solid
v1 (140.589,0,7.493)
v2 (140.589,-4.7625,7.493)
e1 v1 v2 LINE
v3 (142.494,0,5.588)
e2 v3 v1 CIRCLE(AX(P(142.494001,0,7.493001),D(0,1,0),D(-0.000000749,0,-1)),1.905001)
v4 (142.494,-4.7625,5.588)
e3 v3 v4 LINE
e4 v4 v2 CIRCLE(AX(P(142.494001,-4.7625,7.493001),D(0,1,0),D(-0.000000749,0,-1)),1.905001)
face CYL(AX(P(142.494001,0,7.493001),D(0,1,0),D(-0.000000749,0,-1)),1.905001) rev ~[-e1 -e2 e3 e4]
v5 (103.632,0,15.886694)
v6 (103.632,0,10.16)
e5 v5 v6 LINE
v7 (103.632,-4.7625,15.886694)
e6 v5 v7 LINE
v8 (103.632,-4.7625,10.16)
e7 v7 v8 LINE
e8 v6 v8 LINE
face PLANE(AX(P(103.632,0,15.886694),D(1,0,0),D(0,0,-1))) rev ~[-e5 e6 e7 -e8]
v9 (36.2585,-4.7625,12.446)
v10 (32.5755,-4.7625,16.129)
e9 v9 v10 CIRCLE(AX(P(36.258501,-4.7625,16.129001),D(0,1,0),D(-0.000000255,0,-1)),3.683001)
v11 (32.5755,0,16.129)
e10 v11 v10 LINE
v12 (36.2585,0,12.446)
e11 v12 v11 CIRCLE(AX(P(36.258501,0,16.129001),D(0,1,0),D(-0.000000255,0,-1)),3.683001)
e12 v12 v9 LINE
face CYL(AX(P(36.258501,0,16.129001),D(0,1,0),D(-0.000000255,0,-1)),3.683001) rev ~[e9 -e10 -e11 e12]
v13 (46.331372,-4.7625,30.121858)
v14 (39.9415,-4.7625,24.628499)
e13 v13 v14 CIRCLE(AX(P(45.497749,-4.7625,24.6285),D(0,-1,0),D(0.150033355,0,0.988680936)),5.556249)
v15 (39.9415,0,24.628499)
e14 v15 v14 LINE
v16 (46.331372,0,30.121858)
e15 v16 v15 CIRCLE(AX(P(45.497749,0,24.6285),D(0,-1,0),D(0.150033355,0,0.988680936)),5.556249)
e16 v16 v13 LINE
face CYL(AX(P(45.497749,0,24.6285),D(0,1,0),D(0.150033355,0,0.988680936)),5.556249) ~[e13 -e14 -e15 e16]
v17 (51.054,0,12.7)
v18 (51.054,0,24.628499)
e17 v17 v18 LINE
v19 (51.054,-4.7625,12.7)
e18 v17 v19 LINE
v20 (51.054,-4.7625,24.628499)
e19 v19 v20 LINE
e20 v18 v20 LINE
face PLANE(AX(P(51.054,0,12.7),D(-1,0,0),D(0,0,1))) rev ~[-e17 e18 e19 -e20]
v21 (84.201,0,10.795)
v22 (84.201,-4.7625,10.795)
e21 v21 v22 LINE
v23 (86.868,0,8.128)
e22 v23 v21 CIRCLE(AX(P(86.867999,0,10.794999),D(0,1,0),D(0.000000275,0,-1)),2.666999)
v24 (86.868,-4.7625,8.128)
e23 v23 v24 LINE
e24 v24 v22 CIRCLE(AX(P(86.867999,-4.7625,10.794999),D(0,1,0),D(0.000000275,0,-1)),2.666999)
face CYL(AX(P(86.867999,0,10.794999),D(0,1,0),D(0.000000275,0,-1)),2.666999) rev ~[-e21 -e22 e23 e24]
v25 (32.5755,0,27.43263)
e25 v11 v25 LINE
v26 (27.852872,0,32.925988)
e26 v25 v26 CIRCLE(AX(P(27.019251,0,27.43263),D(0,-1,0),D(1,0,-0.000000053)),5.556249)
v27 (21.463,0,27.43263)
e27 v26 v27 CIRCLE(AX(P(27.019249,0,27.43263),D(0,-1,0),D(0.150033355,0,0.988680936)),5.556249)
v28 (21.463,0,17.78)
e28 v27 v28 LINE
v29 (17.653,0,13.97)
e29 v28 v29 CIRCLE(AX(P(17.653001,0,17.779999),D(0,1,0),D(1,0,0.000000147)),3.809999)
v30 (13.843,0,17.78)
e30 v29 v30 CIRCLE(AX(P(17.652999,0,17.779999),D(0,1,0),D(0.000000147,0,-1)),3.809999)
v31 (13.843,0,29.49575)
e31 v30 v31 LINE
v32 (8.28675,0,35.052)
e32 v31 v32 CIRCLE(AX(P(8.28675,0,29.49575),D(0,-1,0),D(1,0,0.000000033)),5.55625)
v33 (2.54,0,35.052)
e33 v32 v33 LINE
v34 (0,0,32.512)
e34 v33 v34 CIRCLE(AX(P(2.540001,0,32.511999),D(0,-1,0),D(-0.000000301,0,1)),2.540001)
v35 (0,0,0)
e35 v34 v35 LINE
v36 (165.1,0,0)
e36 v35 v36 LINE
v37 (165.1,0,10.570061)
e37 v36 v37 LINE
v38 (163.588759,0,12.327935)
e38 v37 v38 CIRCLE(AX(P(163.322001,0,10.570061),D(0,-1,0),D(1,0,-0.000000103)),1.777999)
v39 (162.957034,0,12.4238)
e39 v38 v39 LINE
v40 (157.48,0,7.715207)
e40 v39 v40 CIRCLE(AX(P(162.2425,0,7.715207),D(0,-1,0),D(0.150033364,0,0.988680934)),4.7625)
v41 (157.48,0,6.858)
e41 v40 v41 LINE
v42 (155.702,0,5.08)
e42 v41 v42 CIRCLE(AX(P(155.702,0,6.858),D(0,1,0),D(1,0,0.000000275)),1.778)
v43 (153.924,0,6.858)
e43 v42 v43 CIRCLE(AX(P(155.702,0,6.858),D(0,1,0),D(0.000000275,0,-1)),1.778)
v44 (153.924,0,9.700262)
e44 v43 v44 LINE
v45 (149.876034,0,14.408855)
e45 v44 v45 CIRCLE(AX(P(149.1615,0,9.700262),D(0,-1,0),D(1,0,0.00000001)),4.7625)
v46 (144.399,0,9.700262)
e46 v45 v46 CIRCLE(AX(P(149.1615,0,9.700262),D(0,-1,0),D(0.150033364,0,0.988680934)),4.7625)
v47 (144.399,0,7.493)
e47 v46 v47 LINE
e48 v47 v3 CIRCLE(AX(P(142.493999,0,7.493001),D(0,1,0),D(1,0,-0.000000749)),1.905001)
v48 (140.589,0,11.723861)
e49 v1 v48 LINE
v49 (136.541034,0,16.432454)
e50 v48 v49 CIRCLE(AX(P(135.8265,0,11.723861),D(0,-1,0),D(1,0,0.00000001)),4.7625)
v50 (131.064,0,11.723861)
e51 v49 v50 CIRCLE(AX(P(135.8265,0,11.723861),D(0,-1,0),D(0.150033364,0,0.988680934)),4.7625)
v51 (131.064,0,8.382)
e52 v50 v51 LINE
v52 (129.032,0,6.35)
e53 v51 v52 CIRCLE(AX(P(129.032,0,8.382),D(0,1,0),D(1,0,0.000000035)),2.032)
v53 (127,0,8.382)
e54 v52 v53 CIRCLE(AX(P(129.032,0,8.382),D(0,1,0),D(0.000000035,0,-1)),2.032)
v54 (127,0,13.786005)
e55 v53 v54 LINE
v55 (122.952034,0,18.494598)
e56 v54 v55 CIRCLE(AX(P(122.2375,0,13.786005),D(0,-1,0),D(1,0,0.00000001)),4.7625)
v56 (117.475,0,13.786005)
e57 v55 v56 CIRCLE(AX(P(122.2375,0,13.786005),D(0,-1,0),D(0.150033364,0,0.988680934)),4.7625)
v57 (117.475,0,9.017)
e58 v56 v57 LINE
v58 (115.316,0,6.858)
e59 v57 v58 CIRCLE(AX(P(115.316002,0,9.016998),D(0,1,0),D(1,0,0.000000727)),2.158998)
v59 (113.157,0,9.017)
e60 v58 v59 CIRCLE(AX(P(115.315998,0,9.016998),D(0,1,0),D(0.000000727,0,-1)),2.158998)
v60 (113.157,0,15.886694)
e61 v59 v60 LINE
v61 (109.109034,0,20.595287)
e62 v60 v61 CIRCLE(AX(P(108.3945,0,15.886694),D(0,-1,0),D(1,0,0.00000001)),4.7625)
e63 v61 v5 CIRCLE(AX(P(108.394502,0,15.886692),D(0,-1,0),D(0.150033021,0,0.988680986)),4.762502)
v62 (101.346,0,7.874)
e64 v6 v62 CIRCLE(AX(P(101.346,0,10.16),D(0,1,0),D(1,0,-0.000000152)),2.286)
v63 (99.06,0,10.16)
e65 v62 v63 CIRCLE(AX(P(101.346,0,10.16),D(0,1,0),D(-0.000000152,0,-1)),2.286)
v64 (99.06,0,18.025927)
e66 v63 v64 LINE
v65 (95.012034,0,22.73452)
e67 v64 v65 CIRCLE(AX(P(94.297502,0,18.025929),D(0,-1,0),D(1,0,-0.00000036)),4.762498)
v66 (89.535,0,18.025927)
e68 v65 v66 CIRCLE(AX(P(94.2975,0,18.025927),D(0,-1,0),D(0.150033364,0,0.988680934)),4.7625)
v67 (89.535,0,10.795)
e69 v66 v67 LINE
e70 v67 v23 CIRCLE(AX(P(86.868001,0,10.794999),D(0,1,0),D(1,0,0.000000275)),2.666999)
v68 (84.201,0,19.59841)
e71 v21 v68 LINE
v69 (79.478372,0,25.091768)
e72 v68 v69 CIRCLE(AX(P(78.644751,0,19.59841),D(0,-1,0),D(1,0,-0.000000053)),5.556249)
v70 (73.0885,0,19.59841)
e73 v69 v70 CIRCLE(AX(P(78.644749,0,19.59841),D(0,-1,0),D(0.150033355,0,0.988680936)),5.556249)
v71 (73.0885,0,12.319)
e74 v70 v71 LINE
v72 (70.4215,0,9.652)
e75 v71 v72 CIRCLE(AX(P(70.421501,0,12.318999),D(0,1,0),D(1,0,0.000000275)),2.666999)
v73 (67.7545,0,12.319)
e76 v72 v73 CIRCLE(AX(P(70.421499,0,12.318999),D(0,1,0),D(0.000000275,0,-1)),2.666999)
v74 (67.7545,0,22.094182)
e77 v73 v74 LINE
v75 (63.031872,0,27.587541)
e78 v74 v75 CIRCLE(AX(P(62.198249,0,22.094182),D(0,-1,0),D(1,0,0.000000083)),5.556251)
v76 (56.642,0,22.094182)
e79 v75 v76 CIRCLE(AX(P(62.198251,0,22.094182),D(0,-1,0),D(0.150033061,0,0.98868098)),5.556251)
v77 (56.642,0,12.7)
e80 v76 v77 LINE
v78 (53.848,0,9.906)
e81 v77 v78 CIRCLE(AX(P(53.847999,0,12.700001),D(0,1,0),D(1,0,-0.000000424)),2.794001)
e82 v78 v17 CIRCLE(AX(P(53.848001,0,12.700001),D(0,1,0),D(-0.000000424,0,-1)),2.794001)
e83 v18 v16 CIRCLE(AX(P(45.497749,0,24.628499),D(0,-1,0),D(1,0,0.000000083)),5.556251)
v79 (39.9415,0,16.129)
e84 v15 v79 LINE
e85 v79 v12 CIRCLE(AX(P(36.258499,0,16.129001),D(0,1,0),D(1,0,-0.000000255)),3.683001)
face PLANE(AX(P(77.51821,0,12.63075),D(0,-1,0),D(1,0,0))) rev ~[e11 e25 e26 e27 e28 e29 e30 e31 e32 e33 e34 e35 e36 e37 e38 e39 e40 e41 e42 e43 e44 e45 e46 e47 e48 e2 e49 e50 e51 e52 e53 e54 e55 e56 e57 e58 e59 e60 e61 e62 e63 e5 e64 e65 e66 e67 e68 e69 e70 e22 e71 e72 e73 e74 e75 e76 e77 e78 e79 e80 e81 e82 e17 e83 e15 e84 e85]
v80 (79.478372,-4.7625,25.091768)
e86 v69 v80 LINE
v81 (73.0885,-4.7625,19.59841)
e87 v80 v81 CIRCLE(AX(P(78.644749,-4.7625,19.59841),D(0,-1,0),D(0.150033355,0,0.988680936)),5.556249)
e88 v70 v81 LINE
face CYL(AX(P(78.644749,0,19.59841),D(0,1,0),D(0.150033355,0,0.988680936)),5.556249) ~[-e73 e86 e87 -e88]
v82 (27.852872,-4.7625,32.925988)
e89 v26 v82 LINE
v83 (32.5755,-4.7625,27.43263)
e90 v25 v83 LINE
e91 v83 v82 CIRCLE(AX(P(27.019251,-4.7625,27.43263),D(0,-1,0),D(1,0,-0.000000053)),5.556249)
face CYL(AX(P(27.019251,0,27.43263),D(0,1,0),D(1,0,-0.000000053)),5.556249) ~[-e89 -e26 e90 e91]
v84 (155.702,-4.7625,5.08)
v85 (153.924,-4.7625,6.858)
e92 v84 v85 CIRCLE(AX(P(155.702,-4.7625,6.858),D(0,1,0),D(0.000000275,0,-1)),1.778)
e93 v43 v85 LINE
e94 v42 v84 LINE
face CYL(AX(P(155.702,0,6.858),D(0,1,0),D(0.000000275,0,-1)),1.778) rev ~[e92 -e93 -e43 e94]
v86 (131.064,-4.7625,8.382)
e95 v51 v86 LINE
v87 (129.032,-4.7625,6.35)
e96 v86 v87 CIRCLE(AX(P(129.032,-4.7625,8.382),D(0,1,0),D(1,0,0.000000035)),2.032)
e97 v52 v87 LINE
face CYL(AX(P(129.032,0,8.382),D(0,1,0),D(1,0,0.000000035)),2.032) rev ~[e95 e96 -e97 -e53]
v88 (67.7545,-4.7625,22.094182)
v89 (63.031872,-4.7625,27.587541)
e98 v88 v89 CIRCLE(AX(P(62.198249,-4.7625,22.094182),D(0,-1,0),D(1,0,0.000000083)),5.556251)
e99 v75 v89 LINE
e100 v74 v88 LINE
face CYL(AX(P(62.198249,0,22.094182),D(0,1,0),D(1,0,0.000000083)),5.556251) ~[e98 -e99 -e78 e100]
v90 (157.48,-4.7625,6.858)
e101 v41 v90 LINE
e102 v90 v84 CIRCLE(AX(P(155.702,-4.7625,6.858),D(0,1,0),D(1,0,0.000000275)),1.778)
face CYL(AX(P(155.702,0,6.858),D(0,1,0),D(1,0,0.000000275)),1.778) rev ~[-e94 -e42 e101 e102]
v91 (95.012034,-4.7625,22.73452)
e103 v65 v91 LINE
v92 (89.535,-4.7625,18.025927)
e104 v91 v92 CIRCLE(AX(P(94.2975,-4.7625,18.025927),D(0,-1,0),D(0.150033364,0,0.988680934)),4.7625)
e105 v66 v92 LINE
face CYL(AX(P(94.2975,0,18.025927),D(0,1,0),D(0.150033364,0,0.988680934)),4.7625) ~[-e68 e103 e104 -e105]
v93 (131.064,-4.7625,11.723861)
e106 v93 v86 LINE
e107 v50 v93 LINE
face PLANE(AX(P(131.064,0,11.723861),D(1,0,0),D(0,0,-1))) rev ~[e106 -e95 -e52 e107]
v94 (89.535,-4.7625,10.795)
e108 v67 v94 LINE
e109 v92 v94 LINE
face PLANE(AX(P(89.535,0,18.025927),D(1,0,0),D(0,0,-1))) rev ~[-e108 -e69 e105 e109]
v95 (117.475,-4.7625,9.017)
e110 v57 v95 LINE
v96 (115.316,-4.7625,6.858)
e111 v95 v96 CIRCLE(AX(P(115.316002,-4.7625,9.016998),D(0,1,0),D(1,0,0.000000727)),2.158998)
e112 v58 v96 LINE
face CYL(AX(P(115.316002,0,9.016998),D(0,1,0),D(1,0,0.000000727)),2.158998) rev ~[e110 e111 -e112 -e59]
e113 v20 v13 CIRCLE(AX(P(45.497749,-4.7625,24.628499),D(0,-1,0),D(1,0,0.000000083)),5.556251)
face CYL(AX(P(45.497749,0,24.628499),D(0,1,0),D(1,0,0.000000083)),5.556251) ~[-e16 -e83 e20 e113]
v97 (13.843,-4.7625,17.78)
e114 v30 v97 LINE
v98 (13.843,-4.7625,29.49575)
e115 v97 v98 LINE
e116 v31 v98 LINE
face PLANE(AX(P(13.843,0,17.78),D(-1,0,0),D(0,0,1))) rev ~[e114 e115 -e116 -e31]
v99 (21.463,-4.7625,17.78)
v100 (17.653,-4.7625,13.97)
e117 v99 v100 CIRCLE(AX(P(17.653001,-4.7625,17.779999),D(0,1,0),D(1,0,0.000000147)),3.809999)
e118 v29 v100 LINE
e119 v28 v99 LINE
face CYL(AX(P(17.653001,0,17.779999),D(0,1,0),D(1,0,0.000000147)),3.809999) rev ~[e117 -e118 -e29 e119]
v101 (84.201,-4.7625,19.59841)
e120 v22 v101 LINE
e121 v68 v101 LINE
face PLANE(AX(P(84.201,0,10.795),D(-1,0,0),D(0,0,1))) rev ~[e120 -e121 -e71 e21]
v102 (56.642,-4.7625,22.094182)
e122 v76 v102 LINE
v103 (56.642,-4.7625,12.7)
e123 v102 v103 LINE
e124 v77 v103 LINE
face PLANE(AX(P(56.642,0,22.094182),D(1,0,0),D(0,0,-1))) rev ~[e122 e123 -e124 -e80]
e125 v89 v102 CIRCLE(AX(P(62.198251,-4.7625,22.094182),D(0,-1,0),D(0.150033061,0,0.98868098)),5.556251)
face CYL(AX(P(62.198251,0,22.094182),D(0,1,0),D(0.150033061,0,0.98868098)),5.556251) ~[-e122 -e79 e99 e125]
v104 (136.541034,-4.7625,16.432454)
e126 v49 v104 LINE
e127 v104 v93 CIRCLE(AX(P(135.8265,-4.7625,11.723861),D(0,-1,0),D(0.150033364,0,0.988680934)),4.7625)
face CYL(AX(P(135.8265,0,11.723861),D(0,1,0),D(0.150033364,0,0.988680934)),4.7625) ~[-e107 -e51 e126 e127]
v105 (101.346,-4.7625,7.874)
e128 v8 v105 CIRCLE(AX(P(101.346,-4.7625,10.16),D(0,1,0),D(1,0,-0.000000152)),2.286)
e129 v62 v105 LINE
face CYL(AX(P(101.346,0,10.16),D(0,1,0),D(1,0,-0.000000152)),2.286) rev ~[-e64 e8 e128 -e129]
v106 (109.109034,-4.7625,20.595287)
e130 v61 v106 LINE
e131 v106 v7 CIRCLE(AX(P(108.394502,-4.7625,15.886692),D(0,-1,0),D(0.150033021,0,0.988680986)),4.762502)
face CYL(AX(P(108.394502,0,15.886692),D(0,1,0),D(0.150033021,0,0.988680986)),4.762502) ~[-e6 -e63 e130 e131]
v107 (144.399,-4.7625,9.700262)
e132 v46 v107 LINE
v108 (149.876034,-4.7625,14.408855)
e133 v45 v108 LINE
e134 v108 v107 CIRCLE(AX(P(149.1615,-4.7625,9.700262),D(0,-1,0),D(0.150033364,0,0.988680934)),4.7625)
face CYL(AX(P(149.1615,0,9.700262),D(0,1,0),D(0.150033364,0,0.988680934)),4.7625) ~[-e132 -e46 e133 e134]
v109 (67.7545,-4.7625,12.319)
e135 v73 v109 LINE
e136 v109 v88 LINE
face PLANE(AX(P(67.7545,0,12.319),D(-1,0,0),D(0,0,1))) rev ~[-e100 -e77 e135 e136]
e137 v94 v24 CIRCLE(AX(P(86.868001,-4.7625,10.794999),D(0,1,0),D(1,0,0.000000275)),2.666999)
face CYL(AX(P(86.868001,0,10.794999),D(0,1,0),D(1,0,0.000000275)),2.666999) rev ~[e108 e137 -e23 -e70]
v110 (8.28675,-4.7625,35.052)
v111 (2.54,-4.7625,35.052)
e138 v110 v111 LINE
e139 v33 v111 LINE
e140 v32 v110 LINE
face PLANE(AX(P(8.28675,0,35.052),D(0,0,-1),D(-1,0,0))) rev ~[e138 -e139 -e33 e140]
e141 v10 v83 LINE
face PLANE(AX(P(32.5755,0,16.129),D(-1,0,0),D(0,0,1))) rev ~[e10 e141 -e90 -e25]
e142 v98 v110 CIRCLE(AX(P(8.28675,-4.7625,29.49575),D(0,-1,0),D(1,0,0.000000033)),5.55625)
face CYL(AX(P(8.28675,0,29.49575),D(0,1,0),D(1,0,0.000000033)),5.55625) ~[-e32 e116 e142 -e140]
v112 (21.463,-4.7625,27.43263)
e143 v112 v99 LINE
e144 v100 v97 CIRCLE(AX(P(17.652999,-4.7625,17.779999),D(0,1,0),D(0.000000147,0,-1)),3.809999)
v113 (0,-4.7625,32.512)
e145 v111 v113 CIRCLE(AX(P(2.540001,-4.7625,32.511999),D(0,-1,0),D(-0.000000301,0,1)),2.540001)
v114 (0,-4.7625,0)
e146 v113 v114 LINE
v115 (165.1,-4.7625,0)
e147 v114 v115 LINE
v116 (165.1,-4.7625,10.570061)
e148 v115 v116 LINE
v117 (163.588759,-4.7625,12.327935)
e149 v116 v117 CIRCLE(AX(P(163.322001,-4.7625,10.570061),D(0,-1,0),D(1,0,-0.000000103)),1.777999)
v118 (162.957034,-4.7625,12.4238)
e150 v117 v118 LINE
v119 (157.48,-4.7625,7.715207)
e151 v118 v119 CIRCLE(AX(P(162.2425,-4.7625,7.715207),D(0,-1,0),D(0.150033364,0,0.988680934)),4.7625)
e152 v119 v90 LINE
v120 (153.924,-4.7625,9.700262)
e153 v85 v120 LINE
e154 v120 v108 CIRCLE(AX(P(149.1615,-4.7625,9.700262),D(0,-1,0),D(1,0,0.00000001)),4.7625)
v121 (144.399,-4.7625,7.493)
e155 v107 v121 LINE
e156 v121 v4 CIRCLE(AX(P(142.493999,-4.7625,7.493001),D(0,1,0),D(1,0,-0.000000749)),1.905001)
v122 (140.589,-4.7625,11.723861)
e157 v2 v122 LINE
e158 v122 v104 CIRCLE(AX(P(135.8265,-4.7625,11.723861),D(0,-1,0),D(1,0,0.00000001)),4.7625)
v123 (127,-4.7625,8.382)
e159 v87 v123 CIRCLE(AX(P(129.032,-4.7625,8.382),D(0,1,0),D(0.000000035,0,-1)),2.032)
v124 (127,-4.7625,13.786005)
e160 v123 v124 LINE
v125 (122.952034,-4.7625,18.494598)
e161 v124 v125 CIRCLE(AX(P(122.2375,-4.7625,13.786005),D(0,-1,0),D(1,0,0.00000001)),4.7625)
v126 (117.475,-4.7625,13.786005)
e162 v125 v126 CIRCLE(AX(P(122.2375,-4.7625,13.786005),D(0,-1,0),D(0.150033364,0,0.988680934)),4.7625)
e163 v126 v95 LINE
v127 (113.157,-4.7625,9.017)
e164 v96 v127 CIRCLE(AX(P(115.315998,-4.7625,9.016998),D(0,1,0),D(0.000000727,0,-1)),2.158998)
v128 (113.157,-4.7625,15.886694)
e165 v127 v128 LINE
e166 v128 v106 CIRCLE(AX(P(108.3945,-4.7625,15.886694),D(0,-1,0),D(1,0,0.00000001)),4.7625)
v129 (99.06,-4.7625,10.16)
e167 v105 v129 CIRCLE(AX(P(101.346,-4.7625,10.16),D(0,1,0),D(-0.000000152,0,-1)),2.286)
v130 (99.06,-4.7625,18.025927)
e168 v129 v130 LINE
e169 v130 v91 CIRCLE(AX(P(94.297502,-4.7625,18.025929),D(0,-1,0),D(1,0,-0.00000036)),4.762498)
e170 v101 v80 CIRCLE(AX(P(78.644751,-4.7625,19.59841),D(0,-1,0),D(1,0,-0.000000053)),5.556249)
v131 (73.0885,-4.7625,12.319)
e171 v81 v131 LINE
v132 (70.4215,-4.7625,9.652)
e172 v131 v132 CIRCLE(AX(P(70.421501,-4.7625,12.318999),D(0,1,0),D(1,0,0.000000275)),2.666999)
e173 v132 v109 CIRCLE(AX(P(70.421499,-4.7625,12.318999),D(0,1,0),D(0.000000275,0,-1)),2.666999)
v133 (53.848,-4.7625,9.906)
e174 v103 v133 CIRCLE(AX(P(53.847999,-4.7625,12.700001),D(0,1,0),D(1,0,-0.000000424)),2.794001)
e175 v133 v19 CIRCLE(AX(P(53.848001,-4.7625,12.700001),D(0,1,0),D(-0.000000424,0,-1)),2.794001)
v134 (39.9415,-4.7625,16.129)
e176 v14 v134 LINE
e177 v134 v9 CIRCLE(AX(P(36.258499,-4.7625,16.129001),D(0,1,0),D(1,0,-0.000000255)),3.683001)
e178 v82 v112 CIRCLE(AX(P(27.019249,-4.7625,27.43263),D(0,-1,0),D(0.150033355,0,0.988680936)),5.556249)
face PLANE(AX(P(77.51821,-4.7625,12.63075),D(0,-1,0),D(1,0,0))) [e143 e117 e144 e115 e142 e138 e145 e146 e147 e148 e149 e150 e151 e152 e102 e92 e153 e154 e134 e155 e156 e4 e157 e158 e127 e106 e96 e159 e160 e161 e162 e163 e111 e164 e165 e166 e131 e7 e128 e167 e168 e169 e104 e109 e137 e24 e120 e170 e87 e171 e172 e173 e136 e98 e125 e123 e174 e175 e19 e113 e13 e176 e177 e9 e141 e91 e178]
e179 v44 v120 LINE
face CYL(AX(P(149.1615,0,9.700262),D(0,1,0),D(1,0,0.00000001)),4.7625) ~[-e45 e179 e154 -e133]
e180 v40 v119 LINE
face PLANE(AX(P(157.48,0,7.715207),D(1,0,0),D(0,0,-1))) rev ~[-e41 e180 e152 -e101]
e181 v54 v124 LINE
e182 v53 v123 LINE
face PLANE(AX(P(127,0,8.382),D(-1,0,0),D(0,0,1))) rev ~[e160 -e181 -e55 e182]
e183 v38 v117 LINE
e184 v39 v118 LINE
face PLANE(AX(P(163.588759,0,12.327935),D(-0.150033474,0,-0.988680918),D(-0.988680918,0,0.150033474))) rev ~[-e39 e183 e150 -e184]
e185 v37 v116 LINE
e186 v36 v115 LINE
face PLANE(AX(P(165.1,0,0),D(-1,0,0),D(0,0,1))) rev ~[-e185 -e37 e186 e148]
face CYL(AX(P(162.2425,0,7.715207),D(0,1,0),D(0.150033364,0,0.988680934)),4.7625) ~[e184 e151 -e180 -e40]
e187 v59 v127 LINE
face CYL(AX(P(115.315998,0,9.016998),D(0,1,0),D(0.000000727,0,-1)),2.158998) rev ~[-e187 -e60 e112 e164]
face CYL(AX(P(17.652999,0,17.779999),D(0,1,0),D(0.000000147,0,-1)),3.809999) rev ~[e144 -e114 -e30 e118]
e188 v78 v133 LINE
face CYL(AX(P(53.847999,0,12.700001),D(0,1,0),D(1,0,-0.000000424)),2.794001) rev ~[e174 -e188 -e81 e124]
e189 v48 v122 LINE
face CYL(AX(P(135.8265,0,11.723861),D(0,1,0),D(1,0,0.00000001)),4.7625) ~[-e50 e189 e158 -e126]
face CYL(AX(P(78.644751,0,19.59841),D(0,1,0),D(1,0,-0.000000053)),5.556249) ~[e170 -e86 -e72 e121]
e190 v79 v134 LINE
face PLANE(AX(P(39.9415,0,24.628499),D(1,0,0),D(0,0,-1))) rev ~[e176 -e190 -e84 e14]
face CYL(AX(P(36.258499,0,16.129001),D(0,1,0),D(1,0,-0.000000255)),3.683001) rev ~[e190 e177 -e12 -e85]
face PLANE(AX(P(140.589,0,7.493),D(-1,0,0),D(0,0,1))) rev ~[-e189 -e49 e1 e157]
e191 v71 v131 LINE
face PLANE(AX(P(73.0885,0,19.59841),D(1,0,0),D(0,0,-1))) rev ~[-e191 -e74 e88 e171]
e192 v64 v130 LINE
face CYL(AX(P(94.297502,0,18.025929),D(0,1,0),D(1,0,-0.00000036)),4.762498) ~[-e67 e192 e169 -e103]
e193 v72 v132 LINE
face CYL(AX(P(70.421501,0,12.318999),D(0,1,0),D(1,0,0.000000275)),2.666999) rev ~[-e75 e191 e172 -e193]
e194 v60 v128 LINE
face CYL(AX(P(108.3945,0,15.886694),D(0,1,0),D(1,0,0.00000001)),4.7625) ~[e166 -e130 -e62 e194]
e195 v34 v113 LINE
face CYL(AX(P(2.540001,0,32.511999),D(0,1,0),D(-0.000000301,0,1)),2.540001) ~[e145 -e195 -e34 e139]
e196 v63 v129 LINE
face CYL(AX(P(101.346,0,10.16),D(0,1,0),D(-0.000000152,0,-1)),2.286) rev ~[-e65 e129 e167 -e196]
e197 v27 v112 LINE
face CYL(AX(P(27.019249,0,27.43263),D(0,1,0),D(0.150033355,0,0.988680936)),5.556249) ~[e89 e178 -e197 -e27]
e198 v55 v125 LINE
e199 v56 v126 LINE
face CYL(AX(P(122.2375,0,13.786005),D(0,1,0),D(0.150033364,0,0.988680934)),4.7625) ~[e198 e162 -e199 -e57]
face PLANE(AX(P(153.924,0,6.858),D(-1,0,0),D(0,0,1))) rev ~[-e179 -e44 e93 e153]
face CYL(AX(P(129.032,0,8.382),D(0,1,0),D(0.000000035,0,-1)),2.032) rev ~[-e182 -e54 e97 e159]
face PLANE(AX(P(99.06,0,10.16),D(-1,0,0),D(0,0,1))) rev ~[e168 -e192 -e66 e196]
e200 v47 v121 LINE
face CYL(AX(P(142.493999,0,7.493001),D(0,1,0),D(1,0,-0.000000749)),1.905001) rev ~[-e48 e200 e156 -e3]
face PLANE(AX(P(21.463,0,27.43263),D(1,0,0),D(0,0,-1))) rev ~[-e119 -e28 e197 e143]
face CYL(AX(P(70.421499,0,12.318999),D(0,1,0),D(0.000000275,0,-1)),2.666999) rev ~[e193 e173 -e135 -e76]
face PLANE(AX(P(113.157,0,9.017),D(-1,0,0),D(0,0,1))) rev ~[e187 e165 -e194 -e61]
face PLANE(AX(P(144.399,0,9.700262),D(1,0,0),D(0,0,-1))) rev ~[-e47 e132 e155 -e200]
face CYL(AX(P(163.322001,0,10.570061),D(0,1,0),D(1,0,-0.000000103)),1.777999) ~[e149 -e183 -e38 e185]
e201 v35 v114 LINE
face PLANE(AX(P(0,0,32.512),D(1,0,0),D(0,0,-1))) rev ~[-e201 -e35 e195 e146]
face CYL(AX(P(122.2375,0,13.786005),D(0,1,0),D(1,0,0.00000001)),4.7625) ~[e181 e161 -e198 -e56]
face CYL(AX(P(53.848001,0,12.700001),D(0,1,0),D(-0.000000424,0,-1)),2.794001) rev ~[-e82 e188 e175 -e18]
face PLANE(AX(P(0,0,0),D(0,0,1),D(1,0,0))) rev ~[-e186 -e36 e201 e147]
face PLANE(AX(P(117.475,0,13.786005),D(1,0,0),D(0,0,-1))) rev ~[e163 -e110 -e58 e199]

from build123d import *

# Parameters (mm, degrees)
F1_DEPTH = 4.7625


with BuildPart() as f1:
    # F0 (on Front) → F1 (new body)
    with BuildSketch(Plane.XZ):
        with BuildLine():
            Line((0, 32.512), (0, 0))
            Line((0, 0), (165.1, 0))
            Line((165.1, 0), (165.1, 10.570061))
            ThreePointArc((165.1, 10.570061), (164.670255, 11.729152), (163.588759, 12.327935))
            Line((163.588759, 12.327935), (162.957034, 12.4238))
            ThreePointArc((162.957034, 12.4238), (159.137791, 11.326604), (157.48, 7.715207))
            Line((157.48, 7.715207), (157.48, 6.858))
            ThreePointArc((157.48, 6.858), (156.959236, 5.600764), (155.702, 5.08))
            ThreePointArc((155.702, 5.08), (154.444764, 5.600764), (153.924, 6.858))
            Line((153.924, 6.858), (153.924, 9.700262))
            ThreePointArc((153.924, 9.700262), (152.772897, 12.804971), (149.876034, 14.408855))
            ThreePointArc((149.876034, 14.408855), (146.056791, 13.311659), (144.399, 9.700262))
            Line((144.399, 9.700262), (144.399, 7.493))
            ThreePointArc((144.399, 7.493), (143.841038, 6.145962), (142.494, 5.588))
            ThreePointArc((142.494, 5.588), (141.146962, 6.145962), (140.589, 7.493))
            Line((140.589, 7.493), (140.589, 11.723861))
            ThreePointArc((140.589, 11.723861), (139.437897, 14.82857), (136.541034, 16.432454))
            ThreePointArc((136.541034, 16.432454), (132.721791, 15.335258), (131.064, 11.723861))
            Line((131.064, 11.723861), (131.064, 8.382))
            ThreePointArc((131.064, 8.382), (130.468841, 6.945159), (129.032, 6.35))
            ThreePointArc((129.032, 6.35), (127.595159, 6.945159), (127, 8.382))
            Line((127, 8.382), (127, 13.786005))
            ThreePointArc((127, 13.786005), (125.848897, 16.890714), (122.952034, 18.494598))
            ThreePointArc((122.952034, 18.494598), (119.132791, 17.397402), (117.475, 13.786005))
            Line((117.475, 13.786005), (117.475, 9.017))
            ThreePointArc((117.475, 9.017), (116.842644, 7.490356), (115.316, 6.858))
            ThreePointArc((115.316, 6.858), (113.789356, 7.490356), (113.157, 9.017))
            Line((113.157, 9.017), (113.157, 15.886694))
            ThreePointArc((113.157, 15.886694), (112.005897, 18.991403), (109.109034, 20.595287))
            ThreePointArc((109.109034, 20.595287), (105.289791, 19.49809), (103.632, 15.886694))
            Line((103.632, 15.886694), (103.632, 10.16))
            ThreePointArc((103.632, 10.16), (102.962446, 8.543554), (101.346, 7.874))
            ThreePointArc((101.346, 7.874), (99.729554, 8.543554), (99.06, 10.16))
            Line((99.06, 10.16), (99.06, 18.025927))
            ThreePointArc((99.06, 18.025927), (97.908897, 21.130637), (95.012034, 22.73452))
            ThreePointArc((95.012034, 22.73452), (91.192791, 21.637324), (89.535, 18.025927))
            Line((89.535, 18.025927), (89.535, 10.795))
            ThreePointArc((89.535, 10.795), (88.753854, 8.909146), (86.868, 8.128))
            ThreePointArc((86.868, 8.128), (84.982146, 8.909146), (84.201, 10.795))
            Line((84.201, 10.795), (84.201, 19.59841))
            ThreePointArc((84.201, 19.59841), (82.858046, 23.220571), (79.478372, 25.091768))
            ThreePointArc((79.478372, 25.091768), (75.022589, 23.811706), (73.0885, 19.59841))
            Line((73.0885, 19.59841), (73.0885, 12.319))
            ThreePointArc((73.0885, 12.319), (72.307354, 10.433146), (70.4215, 9.652))
            ThreePointArc((70.4215, 9.652), (68.535646, 10.433146), (67.7545, 12.319))
            Line((67.7545, 12.319), (67.7545, 22.094182))
            ThreePointArc((67.7545, 22.094182), (66.411546, 25.716343), (63.031872, 27.587541))
            ThreePointArc((63.031872, 27.587541), (58.576089, 26.307478), (56.642, 22.094182))
            Line((56.642, 22.094182), (56.642, 12.7))
            ThreePointArc((56.642, 12.7), (55.823656, 10.724344), (53.848, 9.906))
            ThreePointArc((53.848, 9.906), (51.872344, 10.724344), (51.054, 12.7))
            Line((51.054, 12.7), (51.054, 24.628499))
            ThreePointArc((51.054, 24.628499), (49.711046, 28.25066), (46.331372, 30.121858))
            ThreePointArc((46.331372, 30.121858), (41.875589, 28.841796), (39.9415, 24.628499))
            Line((39.9415, 24.628499), (39.9415, 16.129))
            ThreePointArc((39.9415, 16.129), (38.862774, 13.524726), (36.2585, 12.446))
            ThreePointArc((36.2585, 12.446), (33.654226, 13.524726), (32.5755, 16.129))
            Line((32.5755, 16.129), (32.5755, 27.43263))
            ThreePointArc((32.5755, 27.43263), (31.232546, 31.054791), (27.852872, 32.925988))
            ThreePointArc((27.852872, 32.925988), (23.397089, 31.645926), (21.463, 27.43263))
            Line((21.463, 27.43263), (21.463, 17.78))
            ThreePointArc((21.463, 17.78), (20.347077, 15.085923), (17.653, 13.97))
            ThreePointArc((17.653, 13.97), (14.958923, 15.085923), (13.843, 17.78))
            Line((13.843, 17.78), (13.843, 29.49575))
            ThreePointArc((13.843, 29.49575), (12.215612, 33.424612), (8.28675, 35.052))
            Line((8.28675, 35.052), (2.54, 35.052))
            ThreePointArc((2.54, 35.052), (0.743949, 34.308051), (0, 32.512))
        make_face()
    extrude(amount=F1_DEPTH)


solid = f1.part
